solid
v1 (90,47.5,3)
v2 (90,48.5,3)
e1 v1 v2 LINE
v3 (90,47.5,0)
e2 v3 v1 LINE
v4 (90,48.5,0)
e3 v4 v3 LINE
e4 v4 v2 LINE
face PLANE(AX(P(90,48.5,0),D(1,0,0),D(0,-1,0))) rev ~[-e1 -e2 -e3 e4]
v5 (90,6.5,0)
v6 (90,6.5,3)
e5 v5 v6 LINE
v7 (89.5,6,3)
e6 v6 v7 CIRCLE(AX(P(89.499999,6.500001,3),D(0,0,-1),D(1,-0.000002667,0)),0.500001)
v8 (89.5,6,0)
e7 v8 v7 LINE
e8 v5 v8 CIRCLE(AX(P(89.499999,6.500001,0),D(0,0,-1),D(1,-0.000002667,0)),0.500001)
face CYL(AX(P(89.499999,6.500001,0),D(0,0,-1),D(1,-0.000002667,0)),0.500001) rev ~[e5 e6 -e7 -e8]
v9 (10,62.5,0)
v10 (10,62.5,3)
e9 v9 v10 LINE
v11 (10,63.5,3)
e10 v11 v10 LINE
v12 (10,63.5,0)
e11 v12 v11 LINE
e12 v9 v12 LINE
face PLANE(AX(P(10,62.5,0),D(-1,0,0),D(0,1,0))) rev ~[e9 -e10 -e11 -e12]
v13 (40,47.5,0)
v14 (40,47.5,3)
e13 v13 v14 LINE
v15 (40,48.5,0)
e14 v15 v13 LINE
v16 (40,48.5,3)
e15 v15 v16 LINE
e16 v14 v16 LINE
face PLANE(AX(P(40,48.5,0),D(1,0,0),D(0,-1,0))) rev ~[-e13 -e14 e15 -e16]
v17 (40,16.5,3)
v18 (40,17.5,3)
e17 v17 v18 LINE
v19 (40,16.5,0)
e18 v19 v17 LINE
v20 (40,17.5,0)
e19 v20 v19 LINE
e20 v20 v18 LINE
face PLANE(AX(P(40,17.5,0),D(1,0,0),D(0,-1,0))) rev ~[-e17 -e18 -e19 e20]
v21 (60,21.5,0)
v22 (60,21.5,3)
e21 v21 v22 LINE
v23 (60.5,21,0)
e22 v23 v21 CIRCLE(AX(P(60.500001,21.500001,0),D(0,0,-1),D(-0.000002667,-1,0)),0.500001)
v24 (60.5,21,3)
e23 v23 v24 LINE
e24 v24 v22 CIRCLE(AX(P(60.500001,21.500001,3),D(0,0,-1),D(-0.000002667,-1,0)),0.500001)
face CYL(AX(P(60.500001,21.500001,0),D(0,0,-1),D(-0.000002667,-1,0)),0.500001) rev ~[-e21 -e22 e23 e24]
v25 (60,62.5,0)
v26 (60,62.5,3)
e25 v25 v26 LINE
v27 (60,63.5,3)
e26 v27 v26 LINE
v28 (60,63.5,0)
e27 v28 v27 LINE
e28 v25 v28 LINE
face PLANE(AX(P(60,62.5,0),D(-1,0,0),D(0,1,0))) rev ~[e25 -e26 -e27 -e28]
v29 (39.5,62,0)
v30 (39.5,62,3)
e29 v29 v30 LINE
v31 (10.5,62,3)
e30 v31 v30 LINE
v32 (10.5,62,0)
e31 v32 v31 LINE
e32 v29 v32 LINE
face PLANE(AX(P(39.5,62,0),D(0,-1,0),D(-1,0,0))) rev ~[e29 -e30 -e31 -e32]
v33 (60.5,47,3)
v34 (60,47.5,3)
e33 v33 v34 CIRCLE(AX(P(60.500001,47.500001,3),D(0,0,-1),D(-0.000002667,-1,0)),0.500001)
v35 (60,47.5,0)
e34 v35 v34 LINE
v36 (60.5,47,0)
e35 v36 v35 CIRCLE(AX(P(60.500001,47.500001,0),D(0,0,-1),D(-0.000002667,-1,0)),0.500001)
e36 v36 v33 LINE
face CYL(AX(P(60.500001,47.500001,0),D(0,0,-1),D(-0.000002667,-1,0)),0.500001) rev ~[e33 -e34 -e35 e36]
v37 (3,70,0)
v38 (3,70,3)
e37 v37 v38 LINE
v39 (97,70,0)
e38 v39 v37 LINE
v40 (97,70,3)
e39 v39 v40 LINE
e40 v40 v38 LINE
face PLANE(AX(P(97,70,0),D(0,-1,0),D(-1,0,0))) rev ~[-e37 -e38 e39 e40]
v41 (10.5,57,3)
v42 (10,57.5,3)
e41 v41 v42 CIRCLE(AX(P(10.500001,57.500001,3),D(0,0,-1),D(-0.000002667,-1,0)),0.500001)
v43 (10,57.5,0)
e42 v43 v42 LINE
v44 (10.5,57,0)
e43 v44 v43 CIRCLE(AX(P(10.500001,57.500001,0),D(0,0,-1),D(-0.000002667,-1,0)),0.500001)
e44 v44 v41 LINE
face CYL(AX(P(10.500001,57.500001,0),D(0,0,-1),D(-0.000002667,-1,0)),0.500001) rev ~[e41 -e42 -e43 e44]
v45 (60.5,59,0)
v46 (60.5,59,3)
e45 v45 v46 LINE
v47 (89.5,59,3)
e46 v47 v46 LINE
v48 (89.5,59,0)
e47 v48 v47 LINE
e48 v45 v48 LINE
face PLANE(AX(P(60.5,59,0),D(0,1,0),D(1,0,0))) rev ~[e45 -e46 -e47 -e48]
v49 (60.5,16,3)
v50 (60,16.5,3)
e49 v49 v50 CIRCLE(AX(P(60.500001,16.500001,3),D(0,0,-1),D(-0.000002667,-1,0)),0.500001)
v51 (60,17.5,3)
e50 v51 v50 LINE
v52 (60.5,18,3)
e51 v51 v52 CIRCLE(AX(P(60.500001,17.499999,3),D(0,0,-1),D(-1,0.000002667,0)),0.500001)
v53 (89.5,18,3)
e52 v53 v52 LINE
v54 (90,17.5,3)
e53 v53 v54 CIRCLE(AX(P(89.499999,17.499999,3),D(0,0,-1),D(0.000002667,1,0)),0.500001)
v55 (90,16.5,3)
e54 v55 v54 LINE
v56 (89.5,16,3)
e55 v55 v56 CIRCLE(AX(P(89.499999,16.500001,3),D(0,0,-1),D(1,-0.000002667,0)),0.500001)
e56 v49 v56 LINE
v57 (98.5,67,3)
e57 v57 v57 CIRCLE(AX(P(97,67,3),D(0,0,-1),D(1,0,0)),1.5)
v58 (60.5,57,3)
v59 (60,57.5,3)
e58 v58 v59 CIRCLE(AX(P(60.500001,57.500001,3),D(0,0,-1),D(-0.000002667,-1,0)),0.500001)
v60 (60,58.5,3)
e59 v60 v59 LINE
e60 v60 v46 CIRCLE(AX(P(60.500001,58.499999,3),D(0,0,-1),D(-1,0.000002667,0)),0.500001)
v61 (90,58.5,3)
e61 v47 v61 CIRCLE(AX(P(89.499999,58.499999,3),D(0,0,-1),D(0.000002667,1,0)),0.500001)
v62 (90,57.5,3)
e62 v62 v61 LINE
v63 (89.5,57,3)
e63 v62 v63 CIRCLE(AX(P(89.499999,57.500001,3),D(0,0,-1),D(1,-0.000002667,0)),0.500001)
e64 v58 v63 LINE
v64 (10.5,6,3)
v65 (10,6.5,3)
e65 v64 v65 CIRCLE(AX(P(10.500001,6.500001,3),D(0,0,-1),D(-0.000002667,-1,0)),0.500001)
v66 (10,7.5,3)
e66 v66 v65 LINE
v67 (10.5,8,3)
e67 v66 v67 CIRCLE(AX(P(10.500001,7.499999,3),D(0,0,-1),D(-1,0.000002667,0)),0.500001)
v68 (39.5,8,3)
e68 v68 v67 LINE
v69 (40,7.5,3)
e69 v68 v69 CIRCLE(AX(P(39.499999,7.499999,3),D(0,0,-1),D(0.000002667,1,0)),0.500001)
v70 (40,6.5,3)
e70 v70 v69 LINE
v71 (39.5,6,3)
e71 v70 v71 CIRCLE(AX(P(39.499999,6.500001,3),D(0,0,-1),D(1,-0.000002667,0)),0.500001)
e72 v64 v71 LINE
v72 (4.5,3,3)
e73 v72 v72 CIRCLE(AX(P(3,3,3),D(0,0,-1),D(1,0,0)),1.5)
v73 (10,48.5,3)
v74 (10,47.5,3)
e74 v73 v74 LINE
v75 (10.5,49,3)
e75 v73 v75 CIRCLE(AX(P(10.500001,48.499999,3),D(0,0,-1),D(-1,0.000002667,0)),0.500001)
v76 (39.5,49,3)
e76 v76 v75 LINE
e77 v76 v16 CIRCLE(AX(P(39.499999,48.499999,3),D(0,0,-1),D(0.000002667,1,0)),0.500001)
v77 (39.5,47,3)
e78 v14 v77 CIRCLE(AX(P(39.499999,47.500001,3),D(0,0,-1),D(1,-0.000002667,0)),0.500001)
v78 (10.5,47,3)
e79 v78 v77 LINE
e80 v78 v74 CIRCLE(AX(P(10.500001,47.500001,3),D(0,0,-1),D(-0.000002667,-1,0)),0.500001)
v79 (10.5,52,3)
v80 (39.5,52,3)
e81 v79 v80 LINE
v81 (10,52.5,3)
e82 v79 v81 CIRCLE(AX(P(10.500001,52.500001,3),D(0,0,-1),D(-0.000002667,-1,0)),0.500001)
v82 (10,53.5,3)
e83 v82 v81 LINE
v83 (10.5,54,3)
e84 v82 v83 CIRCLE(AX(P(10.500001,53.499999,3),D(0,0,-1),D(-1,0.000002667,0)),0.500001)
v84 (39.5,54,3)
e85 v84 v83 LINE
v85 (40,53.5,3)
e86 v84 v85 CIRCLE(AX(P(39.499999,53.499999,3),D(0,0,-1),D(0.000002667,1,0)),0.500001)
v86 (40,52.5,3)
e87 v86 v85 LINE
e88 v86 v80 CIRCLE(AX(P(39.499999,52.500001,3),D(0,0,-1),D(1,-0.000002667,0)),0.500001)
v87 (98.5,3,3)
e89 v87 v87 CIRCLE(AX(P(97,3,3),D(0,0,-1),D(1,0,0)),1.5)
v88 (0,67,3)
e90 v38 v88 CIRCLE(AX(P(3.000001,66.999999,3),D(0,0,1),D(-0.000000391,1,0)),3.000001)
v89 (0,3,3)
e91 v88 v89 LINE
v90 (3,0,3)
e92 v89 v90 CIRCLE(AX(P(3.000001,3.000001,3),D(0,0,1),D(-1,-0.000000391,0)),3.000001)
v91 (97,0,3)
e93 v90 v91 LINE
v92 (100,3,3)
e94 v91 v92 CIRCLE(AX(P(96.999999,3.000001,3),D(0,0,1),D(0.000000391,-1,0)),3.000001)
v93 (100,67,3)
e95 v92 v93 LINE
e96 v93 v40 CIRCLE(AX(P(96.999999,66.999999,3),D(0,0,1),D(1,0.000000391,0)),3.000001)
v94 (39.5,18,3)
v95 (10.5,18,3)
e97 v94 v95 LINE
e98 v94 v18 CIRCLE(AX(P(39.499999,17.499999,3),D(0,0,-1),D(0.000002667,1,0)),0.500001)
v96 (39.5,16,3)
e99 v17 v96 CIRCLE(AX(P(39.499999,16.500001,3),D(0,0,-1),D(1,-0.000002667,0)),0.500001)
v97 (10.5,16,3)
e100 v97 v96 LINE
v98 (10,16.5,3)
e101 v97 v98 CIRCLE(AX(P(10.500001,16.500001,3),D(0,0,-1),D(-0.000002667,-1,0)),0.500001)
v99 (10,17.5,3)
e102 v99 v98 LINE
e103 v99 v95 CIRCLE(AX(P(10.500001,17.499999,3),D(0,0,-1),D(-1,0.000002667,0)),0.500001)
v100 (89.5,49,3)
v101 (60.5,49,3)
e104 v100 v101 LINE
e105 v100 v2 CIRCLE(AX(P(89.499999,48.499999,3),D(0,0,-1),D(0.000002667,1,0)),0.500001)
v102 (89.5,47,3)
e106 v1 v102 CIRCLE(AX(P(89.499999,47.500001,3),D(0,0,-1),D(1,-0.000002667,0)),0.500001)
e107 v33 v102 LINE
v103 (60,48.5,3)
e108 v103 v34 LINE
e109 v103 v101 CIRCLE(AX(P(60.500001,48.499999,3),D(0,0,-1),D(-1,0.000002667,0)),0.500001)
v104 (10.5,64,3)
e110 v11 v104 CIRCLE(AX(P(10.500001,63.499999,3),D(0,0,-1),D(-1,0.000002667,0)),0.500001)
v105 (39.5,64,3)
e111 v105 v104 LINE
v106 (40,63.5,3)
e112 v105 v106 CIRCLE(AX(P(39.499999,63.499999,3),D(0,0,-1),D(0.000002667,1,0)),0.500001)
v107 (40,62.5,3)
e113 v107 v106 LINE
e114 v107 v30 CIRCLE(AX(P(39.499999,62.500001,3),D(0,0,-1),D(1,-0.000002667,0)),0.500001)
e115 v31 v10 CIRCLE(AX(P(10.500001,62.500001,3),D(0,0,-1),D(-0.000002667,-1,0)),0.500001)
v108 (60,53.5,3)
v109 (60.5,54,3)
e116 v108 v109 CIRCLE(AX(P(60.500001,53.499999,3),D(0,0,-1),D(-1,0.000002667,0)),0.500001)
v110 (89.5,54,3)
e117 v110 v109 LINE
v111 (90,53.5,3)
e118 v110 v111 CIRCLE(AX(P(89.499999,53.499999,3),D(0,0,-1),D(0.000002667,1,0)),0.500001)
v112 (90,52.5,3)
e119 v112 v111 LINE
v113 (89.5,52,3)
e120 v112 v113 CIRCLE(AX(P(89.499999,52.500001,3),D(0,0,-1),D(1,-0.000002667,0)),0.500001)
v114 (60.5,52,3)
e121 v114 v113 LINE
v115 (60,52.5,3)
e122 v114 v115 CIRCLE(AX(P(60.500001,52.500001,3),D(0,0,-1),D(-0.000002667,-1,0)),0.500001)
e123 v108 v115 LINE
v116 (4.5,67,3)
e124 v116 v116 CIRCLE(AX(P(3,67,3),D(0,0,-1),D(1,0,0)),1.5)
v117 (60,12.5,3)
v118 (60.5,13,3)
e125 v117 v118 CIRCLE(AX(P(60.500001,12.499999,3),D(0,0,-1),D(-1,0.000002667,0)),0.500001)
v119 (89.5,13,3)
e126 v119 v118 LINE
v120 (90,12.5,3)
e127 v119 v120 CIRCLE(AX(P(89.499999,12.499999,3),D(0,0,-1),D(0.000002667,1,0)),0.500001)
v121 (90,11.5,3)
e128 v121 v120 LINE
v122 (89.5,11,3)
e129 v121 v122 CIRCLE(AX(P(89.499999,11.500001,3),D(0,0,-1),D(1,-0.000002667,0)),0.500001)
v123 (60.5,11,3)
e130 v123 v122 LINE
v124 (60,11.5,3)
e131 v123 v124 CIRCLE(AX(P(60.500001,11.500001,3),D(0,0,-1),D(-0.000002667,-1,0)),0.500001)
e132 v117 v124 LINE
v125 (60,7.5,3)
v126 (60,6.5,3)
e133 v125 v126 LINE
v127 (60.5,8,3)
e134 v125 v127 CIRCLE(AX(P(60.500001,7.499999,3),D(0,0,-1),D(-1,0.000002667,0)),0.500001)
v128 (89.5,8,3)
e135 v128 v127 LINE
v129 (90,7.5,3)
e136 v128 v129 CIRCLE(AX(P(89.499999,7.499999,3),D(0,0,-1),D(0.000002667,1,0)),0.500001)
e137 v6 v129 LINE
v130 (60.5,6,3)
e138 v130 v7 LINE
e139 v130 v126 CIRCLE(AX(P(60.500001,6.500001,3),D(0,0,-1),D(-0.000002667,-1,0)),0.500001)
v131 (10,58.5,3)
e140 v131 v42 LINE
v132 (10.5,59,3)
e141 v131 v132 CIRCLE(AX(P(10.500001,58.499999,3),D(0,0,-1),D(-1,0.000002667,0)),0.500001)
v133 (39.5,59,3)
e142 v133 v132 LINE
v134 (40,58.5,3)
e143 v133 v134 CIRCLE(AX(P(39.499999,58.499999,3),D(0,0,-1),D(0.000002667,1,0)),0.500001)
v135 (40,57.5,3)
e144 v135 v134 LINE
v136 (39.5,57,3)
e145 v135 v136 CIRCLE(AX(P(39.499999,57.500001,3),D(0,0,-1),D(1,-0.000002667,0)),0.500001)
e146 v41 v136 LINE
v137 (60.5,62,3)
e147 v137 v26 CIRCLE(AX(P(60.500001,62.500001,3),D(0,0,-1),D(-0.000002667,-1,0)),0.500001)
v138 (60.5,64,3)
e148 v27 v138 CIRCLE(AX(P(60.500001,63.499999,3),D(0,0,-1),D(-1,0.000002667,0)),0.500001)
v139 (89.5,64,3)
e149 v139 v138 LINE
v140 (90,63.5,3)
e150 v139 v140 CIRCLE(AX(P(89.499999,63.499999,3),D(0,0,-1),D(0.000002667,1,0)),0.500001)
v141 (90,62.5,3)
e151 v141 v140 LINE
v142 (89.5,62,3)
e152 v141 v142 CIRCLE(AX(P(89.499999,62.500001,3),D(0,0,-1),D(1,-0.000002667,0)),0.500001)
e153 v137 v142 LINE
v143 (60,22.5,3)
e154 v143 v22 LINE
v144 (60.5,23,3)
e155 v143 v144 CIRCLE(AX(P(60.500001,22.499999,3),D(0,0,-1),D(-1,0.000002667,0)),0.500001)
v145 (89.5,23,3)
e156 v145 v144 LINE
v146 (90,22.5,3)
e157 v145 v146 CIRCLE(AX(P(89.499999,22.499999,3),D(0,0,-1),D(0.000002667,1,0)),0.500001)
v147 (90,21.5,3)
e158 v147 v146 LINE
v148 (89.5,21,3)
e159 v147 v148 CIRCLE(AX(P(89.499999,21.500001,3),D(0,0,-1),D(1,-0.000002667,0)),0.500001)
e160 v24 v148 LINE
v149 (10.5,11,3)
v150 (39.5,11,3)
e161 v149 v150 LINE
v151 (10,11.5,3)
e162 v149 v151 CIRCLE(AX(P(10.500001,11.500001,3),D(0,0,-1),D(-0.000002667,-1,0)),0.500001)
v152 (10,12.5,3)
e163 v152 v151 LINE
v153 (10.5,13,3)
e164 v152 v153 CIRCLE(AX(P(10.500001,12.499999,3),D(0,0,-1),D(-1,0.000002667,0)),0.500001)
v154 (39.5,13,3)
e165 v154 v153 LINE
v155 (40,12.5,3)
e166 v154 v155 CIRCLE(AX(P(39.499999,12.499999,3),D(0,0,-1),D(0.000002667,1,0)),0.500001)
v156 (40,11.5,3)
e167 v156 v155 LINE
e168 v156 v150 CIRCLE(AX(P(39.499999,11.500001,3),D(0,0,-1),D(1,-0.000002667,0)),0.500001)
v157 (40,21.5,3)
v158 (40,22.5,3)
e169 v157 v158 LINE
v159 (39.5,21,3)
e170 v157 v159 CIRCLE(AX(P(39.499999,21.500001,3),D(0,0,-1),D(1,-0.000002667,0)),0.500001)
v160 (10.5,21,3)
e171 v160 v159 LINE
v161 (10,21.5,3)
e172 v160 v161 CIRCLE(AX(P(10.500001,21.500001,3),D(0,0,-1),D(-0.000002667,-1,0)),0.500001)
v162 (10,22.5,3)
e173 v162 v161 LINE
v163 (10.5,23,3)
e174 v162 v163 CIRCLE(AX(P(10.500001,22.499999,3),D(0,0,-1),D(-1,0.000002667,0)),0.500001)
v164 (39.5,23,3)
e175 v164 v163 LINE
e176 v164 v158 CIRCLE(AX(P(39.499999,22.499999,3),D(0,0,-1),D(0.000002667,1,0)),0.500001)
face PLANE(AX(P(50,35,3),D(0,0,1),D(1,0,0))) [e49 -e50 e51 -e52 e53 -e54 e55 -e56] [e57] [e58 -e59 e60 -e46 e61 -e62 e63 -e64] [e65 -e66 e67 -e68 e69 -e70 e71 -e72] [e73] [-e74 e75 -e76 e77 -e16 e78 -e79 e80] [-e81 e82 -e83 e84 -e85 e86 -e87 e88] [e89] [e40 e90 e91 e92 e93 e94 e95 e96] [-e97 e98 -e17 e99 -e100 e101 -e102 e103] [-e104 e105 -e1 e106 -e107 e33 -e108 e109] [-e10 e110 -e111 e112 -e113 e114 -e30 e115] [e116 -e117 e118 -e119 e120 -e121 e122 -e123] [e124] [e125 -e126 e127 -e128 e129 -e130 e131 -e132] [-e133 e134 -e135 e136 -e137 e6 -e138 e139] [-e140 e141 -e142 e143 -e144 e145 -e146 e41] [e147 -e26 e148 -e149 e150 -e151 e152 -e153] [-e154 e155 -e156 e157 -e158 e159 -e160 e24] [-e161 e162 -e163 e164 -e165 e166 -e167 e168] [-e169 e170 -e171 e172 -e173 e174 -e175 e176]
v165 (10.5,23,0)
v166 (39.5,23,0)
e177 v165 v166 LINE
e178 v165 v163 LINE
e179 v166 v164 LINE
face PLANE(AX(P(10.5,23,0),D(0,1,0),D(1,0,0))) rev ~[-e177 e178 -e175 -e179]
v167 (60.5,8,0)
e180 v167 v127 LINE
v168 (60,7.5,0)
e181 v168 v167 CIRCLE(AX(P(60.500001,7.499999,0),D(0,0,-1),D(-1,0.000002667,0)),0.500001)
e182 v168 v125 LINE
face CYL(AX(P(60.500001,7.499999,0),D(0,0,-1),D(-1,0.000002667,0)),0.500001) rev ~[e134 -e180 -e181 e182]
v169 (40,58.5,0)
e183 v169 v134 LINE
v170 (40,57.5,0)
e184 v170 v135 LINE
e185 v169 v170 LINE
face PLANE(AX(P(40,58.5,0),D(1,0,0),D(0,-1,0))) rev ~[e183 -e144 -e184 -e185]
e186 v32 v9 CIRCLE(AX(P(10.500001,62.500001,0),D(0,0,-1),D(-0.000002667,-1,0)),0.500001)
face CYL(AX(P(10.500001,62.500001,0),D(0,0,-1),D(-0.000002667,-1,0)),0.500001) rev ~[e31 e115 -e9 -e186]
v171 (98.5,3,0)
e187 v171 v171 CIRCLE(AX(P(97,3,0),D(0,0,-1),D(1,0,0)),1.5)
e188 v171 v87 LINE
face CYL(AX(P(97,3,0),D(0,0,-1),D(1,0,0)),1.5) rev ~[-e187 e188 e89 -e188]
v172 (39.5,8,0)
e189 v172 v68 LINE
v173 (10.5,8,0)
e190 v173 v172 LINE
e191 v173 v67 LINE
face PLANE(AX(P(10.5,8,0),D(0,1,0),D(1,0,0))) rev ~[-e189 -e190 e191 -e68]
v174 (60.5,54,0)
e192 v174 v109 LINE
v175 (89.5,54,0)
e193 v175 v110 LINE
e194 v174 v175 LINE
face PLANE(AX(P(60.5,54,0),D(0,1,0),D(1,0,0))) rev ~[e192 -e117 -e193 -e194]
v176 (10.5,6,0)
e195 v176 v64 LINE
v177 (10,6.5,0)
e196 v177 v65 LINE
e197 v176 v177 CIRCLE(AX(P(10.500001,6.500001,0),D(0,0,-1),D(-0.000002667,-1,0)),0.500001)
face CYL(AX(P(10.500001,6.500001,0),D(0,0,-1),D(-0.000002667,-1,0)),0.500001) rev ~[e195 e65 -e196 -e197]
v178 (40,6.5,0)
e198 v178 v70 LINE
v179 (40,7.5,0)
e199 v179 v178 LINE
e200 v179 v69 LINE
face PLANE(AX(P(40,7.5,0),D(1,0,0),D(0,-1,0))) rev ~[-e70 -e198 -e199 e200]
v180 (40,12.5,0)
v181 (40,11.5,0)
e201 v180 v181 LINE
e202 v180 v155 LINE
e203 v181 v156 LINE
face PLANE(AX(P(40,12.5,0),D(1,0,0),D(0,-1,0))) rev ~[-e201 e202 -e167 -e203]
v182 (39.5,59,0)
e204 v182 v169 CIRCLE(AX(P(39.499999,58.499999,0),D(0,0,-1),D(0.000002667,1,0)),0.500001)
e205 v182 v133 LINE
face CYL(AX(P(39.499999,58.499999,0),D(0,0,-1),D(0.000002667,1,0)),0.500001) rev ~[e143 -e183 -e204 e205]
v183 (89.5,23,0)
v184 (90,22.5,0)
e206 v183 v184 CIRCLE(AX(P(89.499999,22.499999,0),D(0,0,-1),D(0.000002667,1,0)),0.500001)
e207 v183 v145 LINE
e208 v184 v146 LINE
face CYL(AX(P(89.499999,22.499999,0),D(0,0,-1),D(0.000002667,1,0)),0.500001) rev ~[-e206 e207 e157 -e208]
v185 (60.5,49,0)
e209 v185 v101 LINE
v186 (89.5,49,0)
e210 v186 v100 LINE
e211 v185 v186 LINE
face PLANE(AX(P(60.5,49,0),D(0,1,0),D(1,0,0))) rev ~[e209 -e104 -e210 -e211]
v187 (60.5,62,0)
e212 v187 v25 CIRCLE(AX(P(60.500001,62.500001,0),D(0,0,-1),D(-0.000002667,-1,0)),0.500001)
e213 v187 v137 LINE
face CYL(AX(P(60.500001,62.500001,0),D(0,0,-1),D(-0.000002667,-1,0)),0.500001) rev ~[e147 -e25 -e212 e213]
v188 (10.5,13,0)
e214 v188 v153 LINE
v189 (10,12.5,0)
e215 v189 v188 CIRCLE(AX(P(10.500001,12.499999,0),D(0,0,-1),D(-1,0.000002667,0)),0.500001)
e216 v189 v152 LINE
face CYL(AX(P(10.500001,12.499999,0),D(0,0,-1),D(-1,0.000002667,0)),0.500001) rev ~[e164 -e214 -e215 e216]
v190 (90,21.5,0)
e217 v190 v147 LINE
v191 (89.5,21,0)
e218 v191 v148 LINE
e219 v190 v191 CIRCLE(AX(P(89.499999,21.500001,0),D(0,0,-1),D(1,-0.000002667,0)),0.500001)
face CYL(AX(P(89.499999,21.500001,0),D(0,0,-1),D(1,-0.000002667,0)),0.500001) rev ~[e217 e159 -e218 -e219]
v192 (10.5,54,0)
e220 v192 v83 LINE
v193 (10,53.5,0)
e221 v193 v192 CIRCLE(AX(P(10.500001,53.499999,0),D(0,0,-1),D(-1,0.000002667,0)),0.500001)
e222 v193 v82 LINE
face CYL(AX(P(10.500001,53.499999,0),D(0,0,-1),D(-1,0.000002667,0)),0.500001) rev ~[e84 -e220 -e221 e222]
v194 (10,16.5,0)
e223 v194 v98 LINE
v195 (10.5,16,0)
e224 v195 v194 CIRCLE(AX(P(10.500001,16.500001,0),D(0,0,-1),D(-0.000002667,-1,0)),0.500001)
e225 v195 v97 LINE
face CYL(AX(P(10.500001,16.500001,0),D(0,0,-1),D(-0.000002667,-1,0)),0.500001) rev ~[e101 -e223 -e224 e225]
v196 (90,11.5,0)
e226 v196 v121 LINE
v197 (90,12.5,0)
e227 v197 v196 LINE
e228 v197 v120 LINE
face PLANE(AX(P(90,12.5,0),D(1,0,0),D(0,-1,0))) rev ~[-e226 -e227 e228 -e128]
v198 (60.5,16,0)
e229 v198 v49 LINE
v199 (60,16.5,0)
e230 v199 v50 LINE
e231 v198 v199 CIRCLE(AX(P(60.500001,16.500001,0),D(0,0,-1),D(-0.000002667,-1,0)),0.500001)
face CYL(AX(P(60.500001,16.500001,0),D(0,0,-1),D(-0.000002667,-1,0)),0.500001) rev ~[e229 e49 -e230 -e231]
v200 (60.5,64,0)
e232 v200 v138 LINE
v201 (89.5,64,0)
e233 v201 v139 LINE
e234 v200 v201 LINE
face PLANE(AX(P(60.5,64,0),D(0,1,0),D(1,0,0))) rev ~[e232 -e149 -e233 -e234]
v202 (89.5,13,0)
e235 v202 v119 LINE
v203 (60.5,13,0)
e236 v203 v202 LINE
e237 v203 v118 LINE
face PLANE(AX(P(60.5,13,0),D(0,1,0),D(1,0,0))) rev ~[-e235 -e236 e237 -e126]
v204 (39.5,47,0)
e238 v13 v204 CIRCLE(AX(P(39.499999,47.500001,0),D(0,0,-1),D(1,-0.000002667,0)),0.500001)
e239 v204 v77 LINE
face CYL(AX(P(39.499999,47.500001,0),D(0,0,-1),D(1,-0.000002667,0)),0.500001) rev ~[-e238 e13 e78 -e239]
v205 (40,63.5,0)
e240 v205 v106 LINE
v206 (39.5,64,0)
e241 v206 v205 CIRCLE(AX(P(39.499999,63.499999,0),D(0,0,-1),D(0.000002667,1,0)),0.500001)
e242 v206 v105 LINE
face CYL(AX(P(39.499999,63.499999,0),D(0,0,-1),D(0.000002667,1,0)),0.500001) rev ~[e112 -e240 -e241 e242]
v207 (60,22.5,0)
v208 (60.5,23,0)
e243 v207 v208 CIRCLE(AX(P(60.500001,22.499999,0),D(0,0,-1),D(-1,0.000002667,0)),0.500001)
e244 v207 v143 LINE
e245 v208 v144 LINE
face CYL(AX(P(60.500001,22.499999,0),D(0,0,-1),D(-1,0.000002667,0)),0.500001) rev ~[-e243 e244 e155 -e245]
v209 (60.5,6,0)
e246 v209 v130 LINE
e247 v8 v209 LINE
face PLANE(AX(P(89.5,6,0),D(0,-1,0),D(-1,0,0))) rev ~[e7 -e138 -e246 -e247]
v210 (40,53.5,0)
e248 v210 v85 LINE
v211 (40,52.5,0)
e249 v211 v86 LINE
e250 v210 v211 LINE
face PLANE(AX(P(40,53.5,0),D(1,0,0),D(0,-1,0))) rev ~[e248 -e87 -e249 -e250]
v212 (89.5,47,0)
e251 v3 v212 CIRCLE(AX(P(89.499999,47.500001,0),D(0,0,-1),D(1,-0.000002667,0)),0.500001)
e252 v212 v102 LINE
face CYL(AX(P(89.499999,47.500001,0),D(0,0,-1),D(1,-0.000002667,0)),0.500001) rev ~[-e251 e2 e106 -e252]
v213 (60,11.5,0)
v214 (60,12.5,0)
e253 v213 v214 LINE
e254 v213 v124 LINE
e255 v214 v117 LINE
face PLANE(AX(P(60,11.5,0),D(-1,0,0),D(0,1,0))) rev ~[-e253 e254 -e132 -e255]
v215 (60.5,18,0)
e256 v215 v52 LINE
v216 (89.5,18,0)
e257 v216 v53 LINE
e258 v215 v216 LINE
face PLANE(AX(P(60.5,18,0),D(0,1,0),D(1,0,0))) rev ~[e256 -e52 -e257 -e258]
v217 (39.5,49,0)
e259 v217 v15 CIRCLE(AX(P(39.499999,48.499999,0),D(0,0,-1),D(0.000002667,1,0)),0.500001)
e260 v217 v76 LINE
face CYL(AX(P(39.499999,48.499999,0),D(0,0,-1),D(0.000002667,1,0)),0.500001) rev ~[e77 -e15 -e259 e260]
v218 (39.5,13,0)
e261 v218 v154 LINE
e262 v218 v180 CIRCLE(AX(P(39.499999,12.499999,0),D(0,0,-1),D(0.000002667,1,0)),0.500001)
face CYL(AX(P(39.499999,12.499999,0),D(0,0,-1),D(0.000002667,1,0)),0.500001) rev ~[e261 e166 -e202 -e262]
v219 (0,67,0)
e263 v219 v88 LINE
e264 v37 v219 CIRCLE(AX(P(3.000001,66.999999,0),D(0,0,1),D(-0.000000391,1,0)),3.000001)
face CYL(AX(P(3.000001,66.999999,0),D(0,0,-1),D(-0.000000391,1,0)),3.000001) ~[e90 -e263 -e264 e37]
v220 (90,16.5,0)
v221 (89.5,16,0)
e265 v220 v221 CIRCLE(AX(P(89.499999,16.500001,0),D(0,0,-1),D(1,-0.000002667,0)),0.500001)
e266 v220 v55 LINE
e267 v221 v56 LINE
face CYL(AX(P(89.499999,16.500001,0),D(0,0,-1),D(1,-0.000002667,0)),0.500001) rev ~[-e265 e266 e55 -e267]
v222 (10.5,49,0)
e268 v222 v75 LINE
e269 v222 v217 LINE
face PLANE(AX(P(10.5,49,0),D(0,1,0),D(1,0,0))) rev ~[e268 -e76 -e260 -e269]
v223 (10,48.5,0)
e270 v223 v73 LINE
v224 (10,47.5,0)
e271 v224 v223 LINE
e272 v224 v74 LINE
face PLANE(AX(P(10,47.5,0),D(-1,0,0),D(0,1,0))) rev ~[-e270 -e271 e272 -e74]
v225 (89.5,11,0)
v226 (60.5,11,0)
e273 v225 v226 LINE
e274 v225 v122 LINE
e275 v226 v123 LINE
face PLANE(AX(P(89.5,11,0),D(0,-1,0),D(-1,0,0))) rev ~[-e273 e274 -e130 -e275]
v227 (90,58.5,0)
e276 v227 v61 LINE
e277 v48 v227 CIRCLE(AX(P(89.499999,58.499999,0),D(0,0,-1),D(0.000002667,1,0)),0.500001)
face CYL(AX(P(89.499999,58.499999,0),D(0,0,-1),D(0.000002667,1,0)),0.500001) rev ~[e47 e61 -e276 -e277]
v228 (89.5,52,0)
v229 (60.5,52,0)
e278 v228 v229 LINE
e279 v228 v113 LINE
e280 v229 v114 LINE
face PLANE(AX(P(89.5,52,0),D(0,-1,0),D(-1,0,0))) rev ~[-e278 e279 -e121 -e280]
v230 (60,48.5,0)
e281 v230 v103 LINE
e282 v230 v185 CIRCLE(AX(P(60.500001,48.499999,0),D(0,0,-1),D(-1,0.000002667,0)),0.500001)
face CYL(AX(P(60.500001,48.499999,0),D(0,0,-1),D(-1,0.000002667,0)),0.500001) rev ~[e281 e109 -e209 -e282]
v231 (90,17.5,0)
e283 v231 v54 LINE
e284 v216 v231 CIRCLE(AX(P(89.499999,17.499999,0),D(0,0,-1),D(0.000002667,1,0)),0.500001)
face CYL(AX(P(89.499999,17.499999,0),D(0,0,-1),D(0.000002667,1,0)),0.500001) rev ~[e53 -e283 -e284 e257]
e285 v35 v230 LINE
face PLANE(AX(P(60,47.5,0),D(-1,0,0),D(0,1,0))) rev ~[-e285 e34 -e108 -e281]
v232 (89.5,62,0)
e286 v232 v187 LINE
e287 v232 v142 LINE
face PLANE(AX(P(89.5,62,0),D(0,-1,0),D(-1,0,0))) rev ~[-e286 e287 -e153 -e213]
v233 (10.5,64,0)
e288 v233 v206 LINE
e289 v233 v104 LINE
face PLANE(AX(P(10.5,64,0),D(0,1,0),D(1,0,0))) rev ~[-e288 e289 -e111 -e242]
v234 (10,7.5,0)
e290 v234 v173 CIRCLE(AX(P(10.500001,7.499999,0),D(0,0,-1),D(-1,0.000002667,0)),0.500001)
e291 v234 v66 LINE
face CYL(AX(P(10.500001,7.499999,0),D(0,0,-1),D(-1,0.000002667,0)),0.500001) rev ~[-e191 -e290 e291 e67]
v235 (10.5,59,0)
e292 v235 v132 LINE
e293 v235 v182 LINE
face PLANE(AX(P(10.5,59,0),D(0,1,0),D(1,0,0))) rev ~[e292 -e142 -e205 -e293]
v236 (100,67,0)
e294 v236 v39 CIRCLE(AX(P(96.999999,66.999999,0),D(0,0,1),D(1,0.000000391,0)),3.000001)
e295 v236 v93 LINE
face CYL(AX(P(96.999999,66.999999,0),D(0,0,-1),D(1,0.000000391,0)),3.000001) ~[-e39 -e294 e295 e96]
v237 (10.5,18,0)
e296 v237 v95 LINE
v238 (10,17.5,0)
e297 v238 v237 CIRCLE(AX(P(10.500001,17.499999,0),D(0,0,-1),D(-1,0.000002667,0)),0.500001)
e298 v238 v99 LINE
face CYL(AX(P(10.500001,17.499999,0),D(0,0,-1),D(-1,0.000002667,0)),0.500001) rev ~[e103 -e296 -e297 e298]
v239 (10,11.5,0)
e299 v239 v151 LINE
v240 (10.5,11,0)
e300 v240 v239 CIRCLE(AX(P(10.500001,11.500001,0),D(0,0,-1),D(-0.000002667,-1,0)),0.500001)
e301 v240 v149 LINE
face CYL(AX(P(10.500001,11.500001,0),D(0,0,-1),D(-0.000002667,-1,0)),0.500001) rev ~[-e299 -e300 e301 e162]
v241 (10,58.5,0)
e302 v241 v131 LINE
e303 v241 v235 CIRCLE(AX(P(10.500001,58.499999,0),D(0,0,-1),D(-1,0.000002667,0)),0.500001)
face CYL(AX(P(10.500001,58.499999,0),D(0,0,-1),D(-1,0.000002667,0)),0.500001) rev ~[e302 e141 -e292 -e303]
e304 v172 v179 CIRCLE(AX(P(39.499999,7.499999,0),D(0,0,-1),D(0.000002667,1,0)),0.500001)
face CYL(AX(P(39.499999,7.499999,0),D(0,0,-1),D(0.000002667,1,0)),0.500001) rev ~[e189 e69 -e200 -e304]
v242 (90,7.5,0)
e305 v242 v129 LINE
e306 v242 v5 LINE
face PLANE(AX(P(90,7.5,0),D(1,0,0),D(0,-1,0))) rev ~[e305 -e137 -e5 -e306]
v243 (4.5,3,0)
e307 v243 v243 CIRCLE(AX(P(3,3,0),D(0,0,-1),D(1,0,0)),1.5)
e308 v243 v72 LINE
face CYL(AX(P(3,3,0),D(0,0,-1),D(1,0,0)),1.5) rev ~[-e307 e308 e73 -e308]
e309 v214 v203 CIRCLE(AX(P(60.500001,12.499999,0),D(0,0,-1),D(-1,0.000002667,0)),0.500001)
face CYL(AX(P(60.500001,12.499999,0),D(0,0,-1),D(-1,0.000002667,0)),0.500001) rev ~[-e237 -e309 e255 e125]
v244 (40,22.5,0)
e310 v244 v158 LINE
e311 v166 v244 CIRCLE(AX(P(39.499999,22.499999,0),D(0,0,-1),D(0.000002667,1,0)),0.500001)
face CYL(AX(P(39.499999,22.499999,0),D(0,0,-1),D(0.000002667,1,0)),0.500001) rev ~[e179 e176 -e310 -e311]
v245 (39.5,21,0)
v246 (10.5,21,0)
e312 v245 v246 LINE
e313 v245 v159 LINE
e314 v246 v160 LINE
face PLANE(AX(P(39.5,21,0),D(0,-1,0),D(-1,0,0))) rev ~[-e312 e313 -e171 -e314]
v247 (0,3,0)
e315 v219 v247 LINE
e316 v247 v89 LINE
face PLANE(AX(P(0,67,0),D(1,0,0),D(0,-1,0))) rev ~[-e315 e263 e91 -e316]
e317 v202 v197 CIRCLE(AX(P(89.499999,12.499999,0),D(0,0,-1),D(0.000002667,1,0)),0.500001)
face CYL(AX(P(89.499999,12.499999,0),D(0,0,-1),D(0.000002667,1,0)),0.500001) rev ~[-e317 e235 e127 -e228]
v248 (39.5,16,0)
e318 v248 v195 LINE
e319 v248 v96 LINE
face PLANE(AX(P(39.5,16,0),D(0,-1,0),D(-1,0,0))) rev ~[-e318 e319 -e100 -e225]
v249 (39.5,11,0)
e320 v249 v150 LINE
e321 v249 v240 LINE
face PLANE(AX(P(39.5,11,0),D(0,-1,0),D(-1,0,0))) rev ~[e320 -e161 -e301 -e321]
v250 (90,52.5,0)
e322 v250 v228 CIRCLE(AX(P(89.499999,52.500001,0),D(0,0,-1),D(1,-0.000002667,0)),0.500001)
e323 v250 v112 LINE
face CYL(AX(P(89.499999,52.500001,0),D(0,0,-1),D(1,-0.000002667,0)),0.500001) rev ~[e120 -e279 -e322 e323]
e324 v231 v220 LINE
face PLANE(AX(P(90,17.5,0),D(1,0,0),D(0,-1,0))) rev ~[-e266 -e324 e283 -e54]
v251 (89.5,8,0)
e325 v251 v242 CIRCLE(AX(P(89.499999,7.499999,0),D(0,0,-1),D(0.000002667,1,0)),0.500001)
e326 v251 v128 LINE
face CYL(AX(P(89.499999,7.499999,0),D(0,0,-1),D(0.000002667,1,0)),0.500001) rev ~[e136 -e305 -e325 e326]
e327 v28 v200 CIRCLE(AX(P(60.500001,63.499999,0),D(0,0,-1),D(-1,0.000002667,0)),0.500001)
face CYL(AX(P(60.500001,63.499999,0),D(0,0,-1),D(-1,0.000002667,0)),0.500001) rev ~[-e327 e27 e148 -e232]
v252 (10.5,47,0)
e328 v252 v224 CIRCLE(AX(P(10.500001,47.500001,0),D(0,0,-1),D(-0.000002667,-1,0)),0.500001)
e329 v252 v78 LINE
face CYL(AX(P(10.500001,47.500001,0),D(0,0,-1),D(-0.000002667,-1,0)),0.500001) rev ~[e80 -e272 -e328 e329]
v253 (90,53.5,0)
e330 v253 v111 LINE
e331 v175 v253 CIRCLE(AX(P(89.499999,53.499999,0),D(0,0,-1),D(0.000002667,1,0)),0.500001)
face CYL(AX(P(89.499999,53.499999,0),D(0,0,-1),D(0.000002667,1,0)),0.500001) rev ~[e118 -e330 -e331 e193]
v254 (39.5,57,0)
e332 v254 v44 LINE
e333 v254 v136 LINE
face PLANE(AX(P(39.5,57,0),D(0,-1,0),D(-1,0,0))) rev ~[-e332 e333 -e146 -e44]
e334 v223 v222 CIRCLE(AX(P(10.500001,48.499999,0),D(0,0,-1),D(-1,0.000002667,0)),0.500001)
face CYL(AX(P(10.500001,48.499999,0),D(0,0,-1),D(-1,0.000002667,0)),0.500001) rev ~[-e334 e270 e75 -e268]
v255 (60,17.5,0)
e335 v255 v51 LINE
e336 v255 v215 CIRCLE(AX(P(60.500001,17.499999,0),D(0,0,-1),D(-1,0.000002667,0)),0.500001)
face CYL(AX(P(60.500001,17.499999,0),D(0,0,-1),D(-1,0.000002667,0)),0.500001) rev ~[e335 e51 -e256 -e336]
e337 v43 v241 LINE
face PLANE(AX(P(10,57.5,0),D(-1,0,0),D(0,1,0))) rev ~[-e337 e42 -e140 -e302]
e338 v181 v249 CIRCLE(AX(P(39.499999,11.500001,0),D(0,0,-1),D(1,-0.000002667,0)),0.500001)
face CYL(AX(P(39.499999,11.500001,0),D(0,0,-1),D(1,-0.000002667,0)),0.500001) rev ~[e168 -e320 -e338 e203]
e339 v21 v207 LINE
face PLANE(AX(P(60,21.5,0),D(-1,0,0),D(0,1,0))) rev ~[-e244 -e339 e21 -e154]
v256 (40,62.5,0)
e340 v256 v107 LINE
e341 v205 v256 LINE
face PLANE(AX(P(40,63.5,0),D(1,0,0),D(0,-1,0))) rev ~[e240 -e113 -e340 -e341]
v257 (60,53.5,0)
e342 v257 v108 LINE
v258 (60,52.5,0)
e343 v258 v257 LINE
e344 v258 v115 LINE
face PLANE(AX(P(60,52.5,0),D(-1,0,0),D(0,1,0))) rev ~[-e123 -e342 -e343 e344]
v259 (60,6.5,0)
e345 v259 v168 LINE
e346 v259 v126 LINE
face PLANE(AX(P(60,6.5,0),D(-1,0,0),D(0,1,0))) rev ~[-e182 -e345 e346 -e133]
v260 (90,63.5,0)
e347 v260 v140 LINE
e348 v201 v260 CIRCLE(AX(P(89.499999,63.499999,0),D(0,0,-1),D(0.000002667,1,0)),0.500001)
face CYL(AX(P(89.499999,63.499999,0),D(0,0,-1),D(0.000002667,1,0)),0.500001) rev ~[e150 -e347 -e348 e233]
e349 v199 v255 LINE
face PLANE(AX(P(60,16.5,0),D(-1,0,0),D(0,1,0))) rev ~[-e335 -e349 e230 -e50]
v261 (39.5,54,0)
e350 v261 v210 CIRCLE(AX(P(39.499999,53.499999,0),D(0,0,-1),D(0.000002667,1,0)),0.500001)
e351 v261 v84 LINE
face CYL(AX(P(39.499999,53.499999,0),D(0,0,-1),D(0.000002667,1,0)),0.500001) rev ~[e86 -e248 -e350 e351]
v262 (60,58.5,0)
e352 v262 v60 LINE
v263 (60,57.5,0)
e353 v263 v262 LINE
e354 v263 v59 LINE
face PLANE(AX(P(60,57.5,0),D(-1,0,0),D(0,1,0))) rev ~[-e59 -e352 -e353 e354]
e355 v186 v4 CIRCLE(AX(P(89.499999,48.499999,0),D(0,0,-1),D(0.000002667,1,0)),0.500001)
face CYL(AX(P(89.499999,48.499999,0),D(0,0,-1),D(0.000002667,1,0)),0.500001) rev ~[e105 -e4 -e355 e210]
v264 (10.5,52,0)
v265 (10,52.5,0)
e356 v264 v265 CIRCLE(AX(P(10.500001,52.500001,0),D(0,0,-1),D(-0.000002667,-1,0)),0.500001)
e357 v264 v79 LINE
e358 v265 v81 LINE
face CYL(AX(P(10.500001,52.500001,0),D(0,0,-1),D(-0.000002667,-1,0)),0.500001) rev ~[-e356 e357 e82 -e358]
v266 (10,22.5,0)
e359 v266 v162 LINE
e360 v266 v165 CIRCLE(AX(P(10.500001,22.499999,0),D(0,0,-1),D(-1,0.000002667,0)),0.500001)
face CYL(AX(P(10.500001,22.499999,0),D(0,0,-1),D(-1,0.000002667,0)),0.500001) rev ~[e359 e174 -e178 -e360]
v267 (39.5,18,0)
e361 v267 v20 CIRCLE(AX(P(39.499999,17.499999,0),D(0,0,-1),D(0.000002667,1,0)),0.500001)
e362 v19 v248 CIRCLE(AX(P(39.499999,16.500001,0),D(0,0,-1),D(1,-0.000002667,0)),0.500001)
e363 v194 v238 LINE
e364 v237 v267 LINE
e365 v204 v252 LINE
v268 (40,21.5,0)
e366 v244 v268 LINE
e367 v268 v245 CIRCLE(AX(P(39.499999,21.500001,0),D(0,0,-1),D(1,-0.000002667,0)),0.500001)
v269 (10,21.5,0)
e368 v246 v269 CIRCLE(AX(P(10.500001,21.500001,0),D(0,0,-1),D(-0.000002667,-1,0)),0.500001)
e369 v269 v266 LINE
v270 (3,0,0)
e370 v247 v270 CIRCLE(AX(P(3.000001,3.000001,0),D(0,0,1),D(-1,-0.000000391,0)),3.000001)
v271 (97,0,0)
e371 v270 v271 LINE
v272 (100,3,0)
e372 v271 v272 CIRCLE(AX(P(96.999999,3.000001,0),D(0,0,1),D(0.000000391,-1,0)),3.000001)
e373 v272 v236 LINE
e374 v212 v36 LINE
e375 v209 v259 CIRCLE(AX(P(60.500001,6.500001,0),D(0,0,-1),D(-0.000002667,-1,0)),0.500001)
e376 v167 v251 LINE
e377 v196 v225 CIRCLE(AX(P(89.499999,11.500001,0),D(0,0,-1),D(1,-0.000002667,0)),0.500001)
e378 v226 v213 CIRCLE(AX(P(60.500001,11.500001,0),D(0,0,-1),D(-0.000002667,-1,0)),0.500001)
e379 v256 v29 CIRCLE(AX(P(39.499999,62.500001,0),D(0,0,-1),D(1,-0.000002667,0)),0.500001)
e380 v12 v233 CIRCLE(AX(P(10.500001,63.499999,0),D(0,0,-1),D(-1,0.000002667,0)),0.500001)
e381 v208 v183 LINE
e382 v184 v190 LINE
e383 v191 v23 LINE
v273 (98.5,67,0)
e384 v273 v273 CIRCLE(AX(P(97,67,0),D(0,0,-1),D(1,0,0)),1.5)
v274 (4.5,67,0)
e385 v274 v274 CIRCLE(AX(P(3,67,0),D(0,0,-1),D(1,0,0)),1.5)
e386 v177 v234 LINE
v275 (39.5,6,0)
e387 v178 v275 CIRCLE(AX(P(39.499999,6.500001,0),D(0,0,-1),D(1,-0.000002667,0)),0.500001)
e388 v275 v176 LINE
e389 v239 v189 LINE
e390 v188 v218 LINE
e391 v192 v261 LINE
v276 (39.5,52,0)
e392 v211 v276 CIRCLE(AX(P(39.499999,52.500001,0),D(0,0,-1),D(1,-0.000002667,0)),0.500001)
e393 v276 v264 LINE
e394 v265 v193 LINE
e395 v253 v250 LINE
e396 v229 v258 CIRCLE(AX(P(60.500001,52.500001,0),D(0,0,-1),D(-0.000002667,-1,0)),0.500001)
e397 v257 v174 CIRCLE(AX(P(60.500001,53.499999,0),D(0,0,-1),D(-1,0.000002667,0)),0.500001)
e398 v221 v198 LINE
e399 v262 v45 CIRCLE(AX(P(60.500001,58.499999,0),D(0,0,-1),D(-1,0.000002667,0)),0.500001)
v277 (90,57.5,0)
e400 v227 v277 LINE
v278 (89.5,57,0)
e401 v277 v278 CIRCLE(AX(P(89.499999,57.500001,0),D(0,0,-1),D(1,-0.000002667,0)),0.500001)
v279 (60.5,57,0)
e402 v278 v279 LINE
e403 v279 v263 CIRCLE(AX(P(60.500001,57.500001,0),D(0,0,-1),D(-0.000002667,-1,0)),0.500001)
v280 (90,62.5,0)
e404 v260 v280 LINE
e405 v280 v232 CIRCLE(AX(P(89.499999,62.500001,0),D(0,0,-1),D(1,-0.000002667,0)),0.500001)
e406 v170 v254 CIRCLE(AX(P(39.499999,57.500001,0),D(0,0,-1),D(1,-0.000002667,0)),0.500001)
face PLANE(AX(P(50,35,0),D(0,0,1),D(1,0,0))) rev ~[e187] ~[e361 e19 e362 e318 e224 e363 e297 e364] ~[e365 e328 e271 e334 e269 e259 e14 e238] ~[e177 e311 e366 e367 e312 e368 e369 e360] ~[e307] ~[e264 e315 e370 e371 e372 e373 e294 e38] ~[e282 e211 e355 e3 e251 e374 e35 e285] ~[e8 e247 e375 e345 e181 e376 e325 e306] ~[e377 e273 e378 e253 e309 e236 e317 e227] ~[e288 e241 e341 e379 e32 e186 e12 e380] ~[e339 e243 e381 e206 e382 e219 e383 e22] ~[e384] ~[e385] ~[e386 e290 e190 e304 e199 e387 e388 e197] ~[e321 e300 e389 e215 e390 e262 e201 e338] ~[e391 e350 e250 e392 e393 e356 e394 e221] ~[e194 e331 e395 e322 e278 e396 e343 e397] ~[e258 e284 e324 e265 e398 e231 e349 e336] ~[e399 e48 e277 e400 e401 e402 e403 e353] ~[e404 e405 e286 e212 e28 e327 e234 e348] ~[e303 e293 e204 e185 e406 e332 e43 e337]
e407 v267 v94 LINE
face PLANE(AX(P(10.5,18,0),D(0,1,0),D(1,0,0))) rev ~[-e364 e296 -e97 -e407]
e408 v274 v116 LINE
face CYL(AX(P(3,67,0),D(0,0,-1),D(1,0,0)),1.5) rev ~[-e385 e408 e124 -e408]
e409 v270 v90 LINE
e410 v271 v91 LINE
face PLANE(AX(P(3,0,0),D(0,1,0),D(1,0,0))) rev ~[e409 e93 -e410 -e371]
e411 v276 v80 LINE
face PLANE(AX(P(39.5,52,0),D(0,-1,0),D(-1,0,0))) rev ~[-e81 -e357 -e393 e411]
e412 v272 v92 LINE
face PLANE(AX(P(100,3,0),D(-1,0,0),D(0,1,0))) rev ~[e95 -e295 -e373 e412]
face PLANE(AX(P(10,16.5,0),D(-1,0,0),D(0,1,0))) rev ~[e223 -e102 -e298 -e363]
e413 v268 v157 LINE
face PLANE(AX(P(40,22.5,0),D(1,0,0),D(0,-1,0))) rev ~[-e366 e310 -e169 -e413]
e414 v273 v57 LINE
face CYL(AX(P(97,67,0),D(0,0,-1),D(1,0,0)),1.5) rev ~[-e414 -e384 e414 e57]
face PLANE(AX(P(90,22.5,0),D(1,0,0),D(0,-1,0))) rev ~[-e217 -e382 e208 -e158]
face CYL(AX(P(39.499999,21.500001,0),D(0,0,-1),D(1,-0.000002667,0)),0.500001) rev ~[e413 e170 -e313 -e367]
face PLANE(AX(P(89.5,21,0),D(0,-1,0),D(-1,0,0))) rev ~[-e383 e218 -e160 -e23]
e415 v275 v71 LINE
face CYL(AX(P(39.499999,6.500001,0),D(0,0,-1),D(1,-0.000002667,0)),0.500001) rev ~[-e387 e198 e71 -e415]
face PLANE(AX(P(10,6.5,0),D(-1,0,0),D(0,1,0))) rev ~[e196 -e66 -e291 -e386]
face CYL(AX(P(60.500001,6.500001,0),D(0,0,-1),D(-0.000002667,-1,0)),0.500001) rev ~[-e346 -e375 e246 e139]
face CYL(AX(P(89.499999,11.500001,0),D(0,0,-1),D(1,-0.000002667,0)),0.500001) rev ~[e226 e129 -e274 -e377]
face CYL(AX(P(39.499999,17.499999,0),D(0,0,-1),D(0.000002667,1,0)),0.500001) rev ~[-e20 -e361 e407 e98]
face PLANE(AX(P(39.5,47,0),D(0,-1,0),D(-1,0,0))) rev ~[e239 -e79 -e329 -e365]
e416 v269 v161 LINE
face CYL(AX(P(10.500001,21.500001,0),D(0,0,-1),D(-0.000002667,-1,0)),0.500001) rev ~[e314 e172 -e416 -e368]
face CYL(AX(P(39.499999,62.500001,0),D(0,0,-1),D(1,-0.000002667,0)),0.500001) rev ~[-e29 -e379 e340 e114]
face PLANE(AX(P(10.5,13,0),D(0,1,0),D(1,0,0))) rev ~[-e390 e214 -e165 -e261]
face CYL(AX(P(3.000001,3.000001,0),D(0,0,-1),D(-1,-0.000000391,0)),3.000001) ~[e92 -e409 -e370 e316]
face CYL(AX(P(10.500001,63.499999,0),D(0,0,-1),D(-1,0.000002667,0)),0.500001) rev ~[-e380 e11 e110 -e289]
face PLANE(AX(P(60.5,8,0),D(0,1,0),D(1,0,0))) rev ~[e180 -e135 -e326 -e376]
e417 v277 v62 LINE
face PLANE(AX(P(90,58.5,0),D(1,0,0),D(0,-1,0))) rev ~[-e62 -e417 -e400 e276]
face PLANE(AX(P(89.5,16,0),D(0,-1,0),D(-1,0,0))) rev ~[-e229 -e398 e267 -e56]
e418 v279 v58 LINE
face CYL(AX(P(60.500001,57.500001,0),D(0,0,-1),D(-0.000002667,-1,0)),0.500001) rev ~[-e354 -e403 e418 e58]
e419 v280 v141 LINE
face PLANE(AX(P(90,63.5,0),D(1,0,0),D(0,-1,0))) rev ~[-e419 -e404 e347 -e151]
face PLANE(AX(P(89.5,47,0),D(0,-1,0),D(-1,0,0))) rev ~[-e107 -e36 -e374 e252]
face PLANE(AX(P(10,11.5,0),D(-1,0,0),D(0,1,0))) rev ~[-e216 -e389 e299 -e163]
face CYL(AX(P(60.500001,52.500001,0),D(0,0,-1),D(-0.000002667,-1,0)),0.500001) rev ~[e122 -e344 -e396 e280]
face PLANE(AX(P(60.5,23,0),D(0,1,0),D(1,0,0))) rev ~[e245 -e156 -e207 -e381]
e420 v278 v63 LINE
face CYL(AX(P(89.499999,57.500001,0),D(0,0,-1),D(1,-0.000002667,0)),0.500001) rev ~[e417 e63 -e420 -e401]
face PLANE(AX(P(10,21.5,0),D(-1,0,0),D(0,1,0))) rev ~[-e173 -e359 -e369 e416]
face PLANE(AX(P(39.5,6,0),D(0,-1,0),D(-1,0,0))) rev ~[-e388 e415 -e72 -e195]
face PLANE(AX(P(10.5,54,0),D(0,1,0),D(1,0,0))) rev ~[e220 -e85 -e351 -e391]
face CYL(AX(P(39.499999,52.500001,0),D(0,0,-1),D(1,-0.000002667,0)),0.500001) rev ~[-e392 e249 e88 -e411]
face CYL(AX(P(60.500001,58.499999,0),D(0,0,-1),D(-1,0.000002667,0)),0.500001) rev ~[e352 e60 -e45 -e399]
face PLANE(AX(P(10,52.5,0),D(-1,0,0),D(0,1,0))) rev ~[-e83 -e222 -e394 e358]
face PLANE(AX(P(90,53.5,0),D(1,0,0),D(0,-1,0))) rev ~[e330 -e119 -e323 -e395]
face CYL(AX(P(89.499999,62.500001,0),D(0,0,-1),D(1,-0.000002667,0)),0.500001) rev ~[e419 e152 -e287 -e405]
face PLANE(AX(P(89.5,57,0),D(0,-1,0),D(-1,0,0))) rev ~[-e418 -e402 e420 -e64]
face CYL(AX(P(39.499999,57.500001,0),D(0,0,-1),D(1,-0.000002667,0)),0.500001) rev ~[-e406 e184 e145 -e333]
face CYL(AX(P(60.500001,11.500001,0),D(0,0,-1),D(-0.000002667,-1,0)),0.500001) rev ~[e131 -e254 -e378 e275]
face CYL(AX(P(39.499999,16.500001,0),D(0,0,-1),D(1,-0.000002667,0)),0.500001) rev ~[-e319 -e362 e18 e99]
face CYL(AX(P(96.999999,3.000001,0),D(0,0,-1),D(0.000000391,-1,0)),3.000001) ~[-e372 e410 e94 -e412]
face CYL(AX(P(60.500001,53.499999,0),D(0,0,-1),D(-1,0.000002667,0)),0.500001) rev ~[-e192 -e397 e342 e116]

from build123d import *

# Parameters (mm, degrees)
F1_DEPTH = 3
F2_R     = 1.5
F3_DEPTH = 25
F5_DEPTH = 25


with BuildPart() as f1:
    # F0 (on Top) → F1 (new body)
    with BuildSketch(Plane.XY):
        with BuildLine():
            ThreePointArc((0, 3), (0.87868, 0.87868), (3, 0))
            Line((3, 0), (97, 0))
            ThreePointArc((97, 0), (99.12132, 0.87868), (100, 3))
            Line((100, 3), (100, 67))
            ThreePointArc((100, 67), (99.12132, 69.12132), (97, 70))
            Line((97, 70), (3, 70))
            ThreePointArc((3, 70), (0.87868, 69.12132), (0, 67))
            Line((0, 67), (0, 3))
        make_face()
    extrude(amount=F1_DEPTH)

    # F2 (on face) → F3 (cut)
    with BuildSketch(Plane(origin=(0, 0, 0), x_dir=(1, 0, 0), z_dir=(0, 0, -1))):
        with Locations((3, -67)):
            Circle(F2_R)
        with Locations((3, -3)):
            Circle(F2_R)
        with Locations((97, -3)):
            Circle(F2_R)
        with Locations((97, -67)):
            Circle(F2_R)
    extrude(amount=-F3_DEPTH, mode=Mode.SUBTRACT)

    # F4 (on face) → F5 (cut)
    with BuildSketch(Plane(origin=(0, 0, 0), x_dir=(1, 0, 0), z_dir=(0, 0, -1))):
        with BuildLine():
            ThreePointArc((10, -63.5), (10.146447, -63.853553), (10.5, -64))
            Line((10.5, -64), (39.5, -64))
            ThreePointArc((39.5, -64), (39.853553, -63.853553), (40, -63.5))
            Line((40, -63.5), (40, -62.5))
            ThreePointArc((40, -62.5), (39.853553, -62.146447), (39.5, -62))
            Line((39.5, -62), (10.5, -62))
            ThreePointArc((10.5, -62), (10.146447, -62.146447), (10, -62.5))
            Line((10, -62.5), (10, -63.5))
        make_face()
        with BuildLine():
            Line((39.5, -57), (10.5, -57))
            ThreePointArc((10.5, -57), (10.146447, -57.146447), (10, -57.5))
            Line((10, -57.5), (10, -58.5))
            ThreePointArc((10, -58.5), (10.146447, -58.853553), (10.5, -59))
            Line((10.5, -59), (39.5, -59))
            ThreePointArc((39.5, -59), (39.853553, -58.853553), (40, -58.5))
            Line((40, -58.5), (40, -57.5))
            ThreePointArc((40, -57.5), (39.853553, -57.146447), (39.5, -57))
        make_face()
        with BuildLine():
            Line((39.5, -52), (10.5, -52))
            ThreePointArc((10.5, -52), (10.146447, -52.146447), (10, -52.5))
            Line((10, -52.5), (10, -53.5))
            ThreePointArc((10, -53.5), (10.146447, -53.853553), (10.5, -54))
            Line((10.5, -54), (39.5, -54))
            ThreePointArc((39.5, -54), (39.853553, -53.853553), (40, -53.5))
            Line((40, -53.5), (40, -52.5))
            ThreePointArc((40, -52.5), (39.853553, -52.146447), (39.5, -52))
        make_face()
        with BuildLine():
            Line((39.5, -47), (10.5, -47))
            ThreePointArc((10.5, -47), (10.146447, -47.146447), (10, -47.5))
            Line((10, -47.5), (10, -48.5))
            ThreePointArc((10, -48.5), (10.146447, -48.853553), (10.5, -49))
            Line((10.5, -49), (39.5, -49))
            ThreePointArc((39.5, -49), (39.853553, -48.853553), (40, -48.5))
            Line((40, -48.5), (40, -47.5))
            ThreePointArc((40, -47.5), (39.853553, -47.146447), (39.5, -47))
        make_face()
        with BuildLine():
            ThreePointArc((10.5, -6), (10.146447, -6.146447), (10, -6.5))
            Line((10, -6.5), (10, -7.5))
            ThreePointArc((10, -7.5), (10.146447, -7.853553), (10.5, -8))
            Line((10.5, -8), (39.5, -8))
            ThreePointArc((39.5, -8), (39.853553, -7.853553), (40, -7.5))
            Line((40, -7.5), (40, -6.5))
            ThreePointArc((40, -6.5), (39.853553, -6.146447), (39.5, -6))
            Line((39.5, -6), (10.5, -6))
        make_face()
        with BuildLine():
            ThreePointArc((10.5, -21), (10.146447, -21.146447), (10, -21.5))
            Line((10, -21.5), (10, -22.5))
            ThreePointArc((10, -22.5), (10.146447, -22.853553), (10.5, -23))
            Line((10.5, -23), (39.5, -23))
            ThreePointArc((39.5, -23), (39.853553, -22.853553), (40, -22.5))
            Line((40, -22.5), (40, -21.5))
            ThreePointArc((40, -21.5), (39.853553, -21.146447), (39.5, -21))
            Line((39.5, -21), (10.5, -21))
        make_face()
        with BuildLine():
            Line((40, -17.5), (40, -16.5))
            ThreePointArc((40, -16.5), (39.853553, -16.146447), (39.5, -16))
            Line((39.5, -16), (10.5, -16))
            ThreePointArc((10.5, -16), (10.146447, -16.146447), (10, -16.5))
            Line((10, -16.5), (10, -17.5))
            ThreePointArc((10, -17.5), (10.146447, -17.853553), (10.5, -18))
            Line((10.5, -18), (39.5, -18))
            ThreePointArc((39.5, -18), (39.853553, -17.853553), (40, -17.5))
        make_face()
        with BuildLine():
            ThreePointArc((10.5, -11), (10.146447, -11.146447), (10, -11.5))
            Line((10, -11.5), (10, -12.5))
            ThreePointArc((10, -12.5), (10.146447, -12.853553), (10.5, -13))
            Line((10.5, -13), (39.5, -13))
            ThreePointArc((39.5, -13), (39.853553, -12.853553), (40, -12.5))
            Line((40, -12.5), (40, -11.5))
            ThreePointArc((40, -11.5), (39.853553, -11.146447), (39.5, -11))
            Line((39.5, -11), (10.5, -11))
        make_face()
        with BuildLine():
            Line((60.5, -18), (89.5, -18))
            ThreePointArc((89.5, -18), (89.853553, -17.853553), (90, -17.5))
            Line((90, -17.5), (90, -16.5))
            ThreePointArc((90, -16.5), (89.853553, -16.146447), (89.5, -16))
            Line((89.5, -16), (60.5, -16))
            ThreePointArc((60.5, -16), (60.146447, -16.146447), (60, -16.5))
            Line((60, -16.5), (60, -17.5))
            ThreePointArc((60, -17.5), (60.146447, -17.853553), (60.5, -18))
        make_face()
        with BuildLine():
            ThreePointArc((60.5, -62), (60.146447, -62.146447), (60, -62.5))
            Line((60, -62.5), (60, -63.5))
            ThreePointArc((60, -63.5), (60.146447, -63.853553), (60.5, -64))
            Line((60.5, -64), (89.5, -64))
            ThreePointArc((89.5, -64), (89.853553, -63.853553), (90, -63.5))
            Line((90, -63.5), (90, -62.5))
            ThreePointArc((90, -62.5), (89.853553, -62.146447), (89.5, -62))
            Line((89.5, -62), (60.5, -62))
        make_face()
        with BuildLine():
            Line((90, -7.5), (90, -6.5))
            ThreePointArc((90, -6.5), (89.853553, -6.146447), (89.5, -6))
            Line((89.5, -6), (60.5, -6))
            ThreePointArc((60.5, -6), (60.146447, -6.146447), (60, -6.5))
            Line((60, -6.5), (60, -7.5))
            ThreePointArc((60, -7.5), (60.146447, -7.853553), (60.5, -8))
            Line((60.5, -8), (89.5, -8))
            ThreePointArc((89.5, -8), (89.853553, -7.853553), (90, -7.5))
        make_face()
        with BuildLine():
            ThreePointArc((89.5, -59), (89.853553, -58.853553), (90, -58.5))
            Line((90, -58.5), (90, -57.5))
            ThreePointArc((90, -57.5), (89.853553, -57.146447), (89.5, -57))
            Line((89.5, -57), (60.5, -57))
            ThreePointArc((60.5, -57), (60.146447, -57.146447), (60, -57.5))
            Line((60, -57.5), (60, -58.5))
            ThreePointArc((60, -58.5), (60.146447, -58.853553), (60.5, -59))
            Line((60.5, -59), (89.5, -59))
        make_face()
        with BuildLine():
            ThreePointArc((89.5, -49), (89.853553, -48.853553), (90, -48.5))
            Line((90, -48.5), (90, -47.5))
            ThreePointArc((90, -47.5), (89.853553, -47.146447), (89.5, -47))
            Line((89.5, -47), (60.5, -47))
            ThreePointArc((60.5, -47), (60.146447, -47.146447), (60, -47.5))
            Line((60, -47.5), (60, -48.5))
            ThreePointArc((60, -48.5), (60.146447, -48.853553), (60.5, -49))
            Line((60.5, -49), (89.5, -49))
        make_face()
        with BuildLine():
            Line((89.5, -21), (60.5, -21))
            ThreePointArc((60.5, -21), (60.146447, -21.146447), (60, -21.5))
            Line((60, -21.5), (60, -22.5))
            ThreePointArc((60, -22.5), (60.146447, -22.853553), (60.5, -23))
            Line((60.5, -23), (89.5, -23))
            ThreePointArc((89.5, -23), (89.853553, -22.853553), (90, -22.5))
            Line((90, -22.5), (90, -21.5))
            ThreePointArc((90, -21.5), (89.853553, -21.146447), (89.5, -21))
        make_face()
        with BuildLine():
            ThreePointArc((60.5, -11), (60.146447, -11.146447), (60, -11.5))
            Line((60, -11.5), (60, -12.5))
            ThreePointArc((60, -12.5), (60.146447, -12.853553), (60.5, -13))
            Line((60.5, -13), (89.5, -13))
            ThreePointArc((89.5, -13), (89.853553, -12.853553), (90, -12.5))
            Line((90, -12.5), (90, -11.5))
            ThreePointArc((90, -11.5), (89.853553, -11.146447), (89.5, -11))
            Line((89.5, -11), (60.5, -11))
        make_face()
        with BuildLine():
            Line((60, -52.5), (60, -53.5))
            ThreePointArc((60, -53.5), (60.146447, -53.853553), (60.5, -54))
            Line((60.5, -54), (89.5, -54))
            ThreePointArc((89.5, -54), (89.853553, -53.853553), (90, -53.5))
            Line((90, -53.5), (90, -52.5))
            ThreePointArc((90, -52.5), (89.853553, -52.146447), (89.5, -52))
            Line((89.5, -52), (60.5, -52))
            ThreePointArc((60.5, -52), (60.146447, -52.146447), (60, -52.5))
        make_face()
    extrude(amount=-F5_DEPTH, mode=Mode.SUBTRACT)


solid = f1.part
